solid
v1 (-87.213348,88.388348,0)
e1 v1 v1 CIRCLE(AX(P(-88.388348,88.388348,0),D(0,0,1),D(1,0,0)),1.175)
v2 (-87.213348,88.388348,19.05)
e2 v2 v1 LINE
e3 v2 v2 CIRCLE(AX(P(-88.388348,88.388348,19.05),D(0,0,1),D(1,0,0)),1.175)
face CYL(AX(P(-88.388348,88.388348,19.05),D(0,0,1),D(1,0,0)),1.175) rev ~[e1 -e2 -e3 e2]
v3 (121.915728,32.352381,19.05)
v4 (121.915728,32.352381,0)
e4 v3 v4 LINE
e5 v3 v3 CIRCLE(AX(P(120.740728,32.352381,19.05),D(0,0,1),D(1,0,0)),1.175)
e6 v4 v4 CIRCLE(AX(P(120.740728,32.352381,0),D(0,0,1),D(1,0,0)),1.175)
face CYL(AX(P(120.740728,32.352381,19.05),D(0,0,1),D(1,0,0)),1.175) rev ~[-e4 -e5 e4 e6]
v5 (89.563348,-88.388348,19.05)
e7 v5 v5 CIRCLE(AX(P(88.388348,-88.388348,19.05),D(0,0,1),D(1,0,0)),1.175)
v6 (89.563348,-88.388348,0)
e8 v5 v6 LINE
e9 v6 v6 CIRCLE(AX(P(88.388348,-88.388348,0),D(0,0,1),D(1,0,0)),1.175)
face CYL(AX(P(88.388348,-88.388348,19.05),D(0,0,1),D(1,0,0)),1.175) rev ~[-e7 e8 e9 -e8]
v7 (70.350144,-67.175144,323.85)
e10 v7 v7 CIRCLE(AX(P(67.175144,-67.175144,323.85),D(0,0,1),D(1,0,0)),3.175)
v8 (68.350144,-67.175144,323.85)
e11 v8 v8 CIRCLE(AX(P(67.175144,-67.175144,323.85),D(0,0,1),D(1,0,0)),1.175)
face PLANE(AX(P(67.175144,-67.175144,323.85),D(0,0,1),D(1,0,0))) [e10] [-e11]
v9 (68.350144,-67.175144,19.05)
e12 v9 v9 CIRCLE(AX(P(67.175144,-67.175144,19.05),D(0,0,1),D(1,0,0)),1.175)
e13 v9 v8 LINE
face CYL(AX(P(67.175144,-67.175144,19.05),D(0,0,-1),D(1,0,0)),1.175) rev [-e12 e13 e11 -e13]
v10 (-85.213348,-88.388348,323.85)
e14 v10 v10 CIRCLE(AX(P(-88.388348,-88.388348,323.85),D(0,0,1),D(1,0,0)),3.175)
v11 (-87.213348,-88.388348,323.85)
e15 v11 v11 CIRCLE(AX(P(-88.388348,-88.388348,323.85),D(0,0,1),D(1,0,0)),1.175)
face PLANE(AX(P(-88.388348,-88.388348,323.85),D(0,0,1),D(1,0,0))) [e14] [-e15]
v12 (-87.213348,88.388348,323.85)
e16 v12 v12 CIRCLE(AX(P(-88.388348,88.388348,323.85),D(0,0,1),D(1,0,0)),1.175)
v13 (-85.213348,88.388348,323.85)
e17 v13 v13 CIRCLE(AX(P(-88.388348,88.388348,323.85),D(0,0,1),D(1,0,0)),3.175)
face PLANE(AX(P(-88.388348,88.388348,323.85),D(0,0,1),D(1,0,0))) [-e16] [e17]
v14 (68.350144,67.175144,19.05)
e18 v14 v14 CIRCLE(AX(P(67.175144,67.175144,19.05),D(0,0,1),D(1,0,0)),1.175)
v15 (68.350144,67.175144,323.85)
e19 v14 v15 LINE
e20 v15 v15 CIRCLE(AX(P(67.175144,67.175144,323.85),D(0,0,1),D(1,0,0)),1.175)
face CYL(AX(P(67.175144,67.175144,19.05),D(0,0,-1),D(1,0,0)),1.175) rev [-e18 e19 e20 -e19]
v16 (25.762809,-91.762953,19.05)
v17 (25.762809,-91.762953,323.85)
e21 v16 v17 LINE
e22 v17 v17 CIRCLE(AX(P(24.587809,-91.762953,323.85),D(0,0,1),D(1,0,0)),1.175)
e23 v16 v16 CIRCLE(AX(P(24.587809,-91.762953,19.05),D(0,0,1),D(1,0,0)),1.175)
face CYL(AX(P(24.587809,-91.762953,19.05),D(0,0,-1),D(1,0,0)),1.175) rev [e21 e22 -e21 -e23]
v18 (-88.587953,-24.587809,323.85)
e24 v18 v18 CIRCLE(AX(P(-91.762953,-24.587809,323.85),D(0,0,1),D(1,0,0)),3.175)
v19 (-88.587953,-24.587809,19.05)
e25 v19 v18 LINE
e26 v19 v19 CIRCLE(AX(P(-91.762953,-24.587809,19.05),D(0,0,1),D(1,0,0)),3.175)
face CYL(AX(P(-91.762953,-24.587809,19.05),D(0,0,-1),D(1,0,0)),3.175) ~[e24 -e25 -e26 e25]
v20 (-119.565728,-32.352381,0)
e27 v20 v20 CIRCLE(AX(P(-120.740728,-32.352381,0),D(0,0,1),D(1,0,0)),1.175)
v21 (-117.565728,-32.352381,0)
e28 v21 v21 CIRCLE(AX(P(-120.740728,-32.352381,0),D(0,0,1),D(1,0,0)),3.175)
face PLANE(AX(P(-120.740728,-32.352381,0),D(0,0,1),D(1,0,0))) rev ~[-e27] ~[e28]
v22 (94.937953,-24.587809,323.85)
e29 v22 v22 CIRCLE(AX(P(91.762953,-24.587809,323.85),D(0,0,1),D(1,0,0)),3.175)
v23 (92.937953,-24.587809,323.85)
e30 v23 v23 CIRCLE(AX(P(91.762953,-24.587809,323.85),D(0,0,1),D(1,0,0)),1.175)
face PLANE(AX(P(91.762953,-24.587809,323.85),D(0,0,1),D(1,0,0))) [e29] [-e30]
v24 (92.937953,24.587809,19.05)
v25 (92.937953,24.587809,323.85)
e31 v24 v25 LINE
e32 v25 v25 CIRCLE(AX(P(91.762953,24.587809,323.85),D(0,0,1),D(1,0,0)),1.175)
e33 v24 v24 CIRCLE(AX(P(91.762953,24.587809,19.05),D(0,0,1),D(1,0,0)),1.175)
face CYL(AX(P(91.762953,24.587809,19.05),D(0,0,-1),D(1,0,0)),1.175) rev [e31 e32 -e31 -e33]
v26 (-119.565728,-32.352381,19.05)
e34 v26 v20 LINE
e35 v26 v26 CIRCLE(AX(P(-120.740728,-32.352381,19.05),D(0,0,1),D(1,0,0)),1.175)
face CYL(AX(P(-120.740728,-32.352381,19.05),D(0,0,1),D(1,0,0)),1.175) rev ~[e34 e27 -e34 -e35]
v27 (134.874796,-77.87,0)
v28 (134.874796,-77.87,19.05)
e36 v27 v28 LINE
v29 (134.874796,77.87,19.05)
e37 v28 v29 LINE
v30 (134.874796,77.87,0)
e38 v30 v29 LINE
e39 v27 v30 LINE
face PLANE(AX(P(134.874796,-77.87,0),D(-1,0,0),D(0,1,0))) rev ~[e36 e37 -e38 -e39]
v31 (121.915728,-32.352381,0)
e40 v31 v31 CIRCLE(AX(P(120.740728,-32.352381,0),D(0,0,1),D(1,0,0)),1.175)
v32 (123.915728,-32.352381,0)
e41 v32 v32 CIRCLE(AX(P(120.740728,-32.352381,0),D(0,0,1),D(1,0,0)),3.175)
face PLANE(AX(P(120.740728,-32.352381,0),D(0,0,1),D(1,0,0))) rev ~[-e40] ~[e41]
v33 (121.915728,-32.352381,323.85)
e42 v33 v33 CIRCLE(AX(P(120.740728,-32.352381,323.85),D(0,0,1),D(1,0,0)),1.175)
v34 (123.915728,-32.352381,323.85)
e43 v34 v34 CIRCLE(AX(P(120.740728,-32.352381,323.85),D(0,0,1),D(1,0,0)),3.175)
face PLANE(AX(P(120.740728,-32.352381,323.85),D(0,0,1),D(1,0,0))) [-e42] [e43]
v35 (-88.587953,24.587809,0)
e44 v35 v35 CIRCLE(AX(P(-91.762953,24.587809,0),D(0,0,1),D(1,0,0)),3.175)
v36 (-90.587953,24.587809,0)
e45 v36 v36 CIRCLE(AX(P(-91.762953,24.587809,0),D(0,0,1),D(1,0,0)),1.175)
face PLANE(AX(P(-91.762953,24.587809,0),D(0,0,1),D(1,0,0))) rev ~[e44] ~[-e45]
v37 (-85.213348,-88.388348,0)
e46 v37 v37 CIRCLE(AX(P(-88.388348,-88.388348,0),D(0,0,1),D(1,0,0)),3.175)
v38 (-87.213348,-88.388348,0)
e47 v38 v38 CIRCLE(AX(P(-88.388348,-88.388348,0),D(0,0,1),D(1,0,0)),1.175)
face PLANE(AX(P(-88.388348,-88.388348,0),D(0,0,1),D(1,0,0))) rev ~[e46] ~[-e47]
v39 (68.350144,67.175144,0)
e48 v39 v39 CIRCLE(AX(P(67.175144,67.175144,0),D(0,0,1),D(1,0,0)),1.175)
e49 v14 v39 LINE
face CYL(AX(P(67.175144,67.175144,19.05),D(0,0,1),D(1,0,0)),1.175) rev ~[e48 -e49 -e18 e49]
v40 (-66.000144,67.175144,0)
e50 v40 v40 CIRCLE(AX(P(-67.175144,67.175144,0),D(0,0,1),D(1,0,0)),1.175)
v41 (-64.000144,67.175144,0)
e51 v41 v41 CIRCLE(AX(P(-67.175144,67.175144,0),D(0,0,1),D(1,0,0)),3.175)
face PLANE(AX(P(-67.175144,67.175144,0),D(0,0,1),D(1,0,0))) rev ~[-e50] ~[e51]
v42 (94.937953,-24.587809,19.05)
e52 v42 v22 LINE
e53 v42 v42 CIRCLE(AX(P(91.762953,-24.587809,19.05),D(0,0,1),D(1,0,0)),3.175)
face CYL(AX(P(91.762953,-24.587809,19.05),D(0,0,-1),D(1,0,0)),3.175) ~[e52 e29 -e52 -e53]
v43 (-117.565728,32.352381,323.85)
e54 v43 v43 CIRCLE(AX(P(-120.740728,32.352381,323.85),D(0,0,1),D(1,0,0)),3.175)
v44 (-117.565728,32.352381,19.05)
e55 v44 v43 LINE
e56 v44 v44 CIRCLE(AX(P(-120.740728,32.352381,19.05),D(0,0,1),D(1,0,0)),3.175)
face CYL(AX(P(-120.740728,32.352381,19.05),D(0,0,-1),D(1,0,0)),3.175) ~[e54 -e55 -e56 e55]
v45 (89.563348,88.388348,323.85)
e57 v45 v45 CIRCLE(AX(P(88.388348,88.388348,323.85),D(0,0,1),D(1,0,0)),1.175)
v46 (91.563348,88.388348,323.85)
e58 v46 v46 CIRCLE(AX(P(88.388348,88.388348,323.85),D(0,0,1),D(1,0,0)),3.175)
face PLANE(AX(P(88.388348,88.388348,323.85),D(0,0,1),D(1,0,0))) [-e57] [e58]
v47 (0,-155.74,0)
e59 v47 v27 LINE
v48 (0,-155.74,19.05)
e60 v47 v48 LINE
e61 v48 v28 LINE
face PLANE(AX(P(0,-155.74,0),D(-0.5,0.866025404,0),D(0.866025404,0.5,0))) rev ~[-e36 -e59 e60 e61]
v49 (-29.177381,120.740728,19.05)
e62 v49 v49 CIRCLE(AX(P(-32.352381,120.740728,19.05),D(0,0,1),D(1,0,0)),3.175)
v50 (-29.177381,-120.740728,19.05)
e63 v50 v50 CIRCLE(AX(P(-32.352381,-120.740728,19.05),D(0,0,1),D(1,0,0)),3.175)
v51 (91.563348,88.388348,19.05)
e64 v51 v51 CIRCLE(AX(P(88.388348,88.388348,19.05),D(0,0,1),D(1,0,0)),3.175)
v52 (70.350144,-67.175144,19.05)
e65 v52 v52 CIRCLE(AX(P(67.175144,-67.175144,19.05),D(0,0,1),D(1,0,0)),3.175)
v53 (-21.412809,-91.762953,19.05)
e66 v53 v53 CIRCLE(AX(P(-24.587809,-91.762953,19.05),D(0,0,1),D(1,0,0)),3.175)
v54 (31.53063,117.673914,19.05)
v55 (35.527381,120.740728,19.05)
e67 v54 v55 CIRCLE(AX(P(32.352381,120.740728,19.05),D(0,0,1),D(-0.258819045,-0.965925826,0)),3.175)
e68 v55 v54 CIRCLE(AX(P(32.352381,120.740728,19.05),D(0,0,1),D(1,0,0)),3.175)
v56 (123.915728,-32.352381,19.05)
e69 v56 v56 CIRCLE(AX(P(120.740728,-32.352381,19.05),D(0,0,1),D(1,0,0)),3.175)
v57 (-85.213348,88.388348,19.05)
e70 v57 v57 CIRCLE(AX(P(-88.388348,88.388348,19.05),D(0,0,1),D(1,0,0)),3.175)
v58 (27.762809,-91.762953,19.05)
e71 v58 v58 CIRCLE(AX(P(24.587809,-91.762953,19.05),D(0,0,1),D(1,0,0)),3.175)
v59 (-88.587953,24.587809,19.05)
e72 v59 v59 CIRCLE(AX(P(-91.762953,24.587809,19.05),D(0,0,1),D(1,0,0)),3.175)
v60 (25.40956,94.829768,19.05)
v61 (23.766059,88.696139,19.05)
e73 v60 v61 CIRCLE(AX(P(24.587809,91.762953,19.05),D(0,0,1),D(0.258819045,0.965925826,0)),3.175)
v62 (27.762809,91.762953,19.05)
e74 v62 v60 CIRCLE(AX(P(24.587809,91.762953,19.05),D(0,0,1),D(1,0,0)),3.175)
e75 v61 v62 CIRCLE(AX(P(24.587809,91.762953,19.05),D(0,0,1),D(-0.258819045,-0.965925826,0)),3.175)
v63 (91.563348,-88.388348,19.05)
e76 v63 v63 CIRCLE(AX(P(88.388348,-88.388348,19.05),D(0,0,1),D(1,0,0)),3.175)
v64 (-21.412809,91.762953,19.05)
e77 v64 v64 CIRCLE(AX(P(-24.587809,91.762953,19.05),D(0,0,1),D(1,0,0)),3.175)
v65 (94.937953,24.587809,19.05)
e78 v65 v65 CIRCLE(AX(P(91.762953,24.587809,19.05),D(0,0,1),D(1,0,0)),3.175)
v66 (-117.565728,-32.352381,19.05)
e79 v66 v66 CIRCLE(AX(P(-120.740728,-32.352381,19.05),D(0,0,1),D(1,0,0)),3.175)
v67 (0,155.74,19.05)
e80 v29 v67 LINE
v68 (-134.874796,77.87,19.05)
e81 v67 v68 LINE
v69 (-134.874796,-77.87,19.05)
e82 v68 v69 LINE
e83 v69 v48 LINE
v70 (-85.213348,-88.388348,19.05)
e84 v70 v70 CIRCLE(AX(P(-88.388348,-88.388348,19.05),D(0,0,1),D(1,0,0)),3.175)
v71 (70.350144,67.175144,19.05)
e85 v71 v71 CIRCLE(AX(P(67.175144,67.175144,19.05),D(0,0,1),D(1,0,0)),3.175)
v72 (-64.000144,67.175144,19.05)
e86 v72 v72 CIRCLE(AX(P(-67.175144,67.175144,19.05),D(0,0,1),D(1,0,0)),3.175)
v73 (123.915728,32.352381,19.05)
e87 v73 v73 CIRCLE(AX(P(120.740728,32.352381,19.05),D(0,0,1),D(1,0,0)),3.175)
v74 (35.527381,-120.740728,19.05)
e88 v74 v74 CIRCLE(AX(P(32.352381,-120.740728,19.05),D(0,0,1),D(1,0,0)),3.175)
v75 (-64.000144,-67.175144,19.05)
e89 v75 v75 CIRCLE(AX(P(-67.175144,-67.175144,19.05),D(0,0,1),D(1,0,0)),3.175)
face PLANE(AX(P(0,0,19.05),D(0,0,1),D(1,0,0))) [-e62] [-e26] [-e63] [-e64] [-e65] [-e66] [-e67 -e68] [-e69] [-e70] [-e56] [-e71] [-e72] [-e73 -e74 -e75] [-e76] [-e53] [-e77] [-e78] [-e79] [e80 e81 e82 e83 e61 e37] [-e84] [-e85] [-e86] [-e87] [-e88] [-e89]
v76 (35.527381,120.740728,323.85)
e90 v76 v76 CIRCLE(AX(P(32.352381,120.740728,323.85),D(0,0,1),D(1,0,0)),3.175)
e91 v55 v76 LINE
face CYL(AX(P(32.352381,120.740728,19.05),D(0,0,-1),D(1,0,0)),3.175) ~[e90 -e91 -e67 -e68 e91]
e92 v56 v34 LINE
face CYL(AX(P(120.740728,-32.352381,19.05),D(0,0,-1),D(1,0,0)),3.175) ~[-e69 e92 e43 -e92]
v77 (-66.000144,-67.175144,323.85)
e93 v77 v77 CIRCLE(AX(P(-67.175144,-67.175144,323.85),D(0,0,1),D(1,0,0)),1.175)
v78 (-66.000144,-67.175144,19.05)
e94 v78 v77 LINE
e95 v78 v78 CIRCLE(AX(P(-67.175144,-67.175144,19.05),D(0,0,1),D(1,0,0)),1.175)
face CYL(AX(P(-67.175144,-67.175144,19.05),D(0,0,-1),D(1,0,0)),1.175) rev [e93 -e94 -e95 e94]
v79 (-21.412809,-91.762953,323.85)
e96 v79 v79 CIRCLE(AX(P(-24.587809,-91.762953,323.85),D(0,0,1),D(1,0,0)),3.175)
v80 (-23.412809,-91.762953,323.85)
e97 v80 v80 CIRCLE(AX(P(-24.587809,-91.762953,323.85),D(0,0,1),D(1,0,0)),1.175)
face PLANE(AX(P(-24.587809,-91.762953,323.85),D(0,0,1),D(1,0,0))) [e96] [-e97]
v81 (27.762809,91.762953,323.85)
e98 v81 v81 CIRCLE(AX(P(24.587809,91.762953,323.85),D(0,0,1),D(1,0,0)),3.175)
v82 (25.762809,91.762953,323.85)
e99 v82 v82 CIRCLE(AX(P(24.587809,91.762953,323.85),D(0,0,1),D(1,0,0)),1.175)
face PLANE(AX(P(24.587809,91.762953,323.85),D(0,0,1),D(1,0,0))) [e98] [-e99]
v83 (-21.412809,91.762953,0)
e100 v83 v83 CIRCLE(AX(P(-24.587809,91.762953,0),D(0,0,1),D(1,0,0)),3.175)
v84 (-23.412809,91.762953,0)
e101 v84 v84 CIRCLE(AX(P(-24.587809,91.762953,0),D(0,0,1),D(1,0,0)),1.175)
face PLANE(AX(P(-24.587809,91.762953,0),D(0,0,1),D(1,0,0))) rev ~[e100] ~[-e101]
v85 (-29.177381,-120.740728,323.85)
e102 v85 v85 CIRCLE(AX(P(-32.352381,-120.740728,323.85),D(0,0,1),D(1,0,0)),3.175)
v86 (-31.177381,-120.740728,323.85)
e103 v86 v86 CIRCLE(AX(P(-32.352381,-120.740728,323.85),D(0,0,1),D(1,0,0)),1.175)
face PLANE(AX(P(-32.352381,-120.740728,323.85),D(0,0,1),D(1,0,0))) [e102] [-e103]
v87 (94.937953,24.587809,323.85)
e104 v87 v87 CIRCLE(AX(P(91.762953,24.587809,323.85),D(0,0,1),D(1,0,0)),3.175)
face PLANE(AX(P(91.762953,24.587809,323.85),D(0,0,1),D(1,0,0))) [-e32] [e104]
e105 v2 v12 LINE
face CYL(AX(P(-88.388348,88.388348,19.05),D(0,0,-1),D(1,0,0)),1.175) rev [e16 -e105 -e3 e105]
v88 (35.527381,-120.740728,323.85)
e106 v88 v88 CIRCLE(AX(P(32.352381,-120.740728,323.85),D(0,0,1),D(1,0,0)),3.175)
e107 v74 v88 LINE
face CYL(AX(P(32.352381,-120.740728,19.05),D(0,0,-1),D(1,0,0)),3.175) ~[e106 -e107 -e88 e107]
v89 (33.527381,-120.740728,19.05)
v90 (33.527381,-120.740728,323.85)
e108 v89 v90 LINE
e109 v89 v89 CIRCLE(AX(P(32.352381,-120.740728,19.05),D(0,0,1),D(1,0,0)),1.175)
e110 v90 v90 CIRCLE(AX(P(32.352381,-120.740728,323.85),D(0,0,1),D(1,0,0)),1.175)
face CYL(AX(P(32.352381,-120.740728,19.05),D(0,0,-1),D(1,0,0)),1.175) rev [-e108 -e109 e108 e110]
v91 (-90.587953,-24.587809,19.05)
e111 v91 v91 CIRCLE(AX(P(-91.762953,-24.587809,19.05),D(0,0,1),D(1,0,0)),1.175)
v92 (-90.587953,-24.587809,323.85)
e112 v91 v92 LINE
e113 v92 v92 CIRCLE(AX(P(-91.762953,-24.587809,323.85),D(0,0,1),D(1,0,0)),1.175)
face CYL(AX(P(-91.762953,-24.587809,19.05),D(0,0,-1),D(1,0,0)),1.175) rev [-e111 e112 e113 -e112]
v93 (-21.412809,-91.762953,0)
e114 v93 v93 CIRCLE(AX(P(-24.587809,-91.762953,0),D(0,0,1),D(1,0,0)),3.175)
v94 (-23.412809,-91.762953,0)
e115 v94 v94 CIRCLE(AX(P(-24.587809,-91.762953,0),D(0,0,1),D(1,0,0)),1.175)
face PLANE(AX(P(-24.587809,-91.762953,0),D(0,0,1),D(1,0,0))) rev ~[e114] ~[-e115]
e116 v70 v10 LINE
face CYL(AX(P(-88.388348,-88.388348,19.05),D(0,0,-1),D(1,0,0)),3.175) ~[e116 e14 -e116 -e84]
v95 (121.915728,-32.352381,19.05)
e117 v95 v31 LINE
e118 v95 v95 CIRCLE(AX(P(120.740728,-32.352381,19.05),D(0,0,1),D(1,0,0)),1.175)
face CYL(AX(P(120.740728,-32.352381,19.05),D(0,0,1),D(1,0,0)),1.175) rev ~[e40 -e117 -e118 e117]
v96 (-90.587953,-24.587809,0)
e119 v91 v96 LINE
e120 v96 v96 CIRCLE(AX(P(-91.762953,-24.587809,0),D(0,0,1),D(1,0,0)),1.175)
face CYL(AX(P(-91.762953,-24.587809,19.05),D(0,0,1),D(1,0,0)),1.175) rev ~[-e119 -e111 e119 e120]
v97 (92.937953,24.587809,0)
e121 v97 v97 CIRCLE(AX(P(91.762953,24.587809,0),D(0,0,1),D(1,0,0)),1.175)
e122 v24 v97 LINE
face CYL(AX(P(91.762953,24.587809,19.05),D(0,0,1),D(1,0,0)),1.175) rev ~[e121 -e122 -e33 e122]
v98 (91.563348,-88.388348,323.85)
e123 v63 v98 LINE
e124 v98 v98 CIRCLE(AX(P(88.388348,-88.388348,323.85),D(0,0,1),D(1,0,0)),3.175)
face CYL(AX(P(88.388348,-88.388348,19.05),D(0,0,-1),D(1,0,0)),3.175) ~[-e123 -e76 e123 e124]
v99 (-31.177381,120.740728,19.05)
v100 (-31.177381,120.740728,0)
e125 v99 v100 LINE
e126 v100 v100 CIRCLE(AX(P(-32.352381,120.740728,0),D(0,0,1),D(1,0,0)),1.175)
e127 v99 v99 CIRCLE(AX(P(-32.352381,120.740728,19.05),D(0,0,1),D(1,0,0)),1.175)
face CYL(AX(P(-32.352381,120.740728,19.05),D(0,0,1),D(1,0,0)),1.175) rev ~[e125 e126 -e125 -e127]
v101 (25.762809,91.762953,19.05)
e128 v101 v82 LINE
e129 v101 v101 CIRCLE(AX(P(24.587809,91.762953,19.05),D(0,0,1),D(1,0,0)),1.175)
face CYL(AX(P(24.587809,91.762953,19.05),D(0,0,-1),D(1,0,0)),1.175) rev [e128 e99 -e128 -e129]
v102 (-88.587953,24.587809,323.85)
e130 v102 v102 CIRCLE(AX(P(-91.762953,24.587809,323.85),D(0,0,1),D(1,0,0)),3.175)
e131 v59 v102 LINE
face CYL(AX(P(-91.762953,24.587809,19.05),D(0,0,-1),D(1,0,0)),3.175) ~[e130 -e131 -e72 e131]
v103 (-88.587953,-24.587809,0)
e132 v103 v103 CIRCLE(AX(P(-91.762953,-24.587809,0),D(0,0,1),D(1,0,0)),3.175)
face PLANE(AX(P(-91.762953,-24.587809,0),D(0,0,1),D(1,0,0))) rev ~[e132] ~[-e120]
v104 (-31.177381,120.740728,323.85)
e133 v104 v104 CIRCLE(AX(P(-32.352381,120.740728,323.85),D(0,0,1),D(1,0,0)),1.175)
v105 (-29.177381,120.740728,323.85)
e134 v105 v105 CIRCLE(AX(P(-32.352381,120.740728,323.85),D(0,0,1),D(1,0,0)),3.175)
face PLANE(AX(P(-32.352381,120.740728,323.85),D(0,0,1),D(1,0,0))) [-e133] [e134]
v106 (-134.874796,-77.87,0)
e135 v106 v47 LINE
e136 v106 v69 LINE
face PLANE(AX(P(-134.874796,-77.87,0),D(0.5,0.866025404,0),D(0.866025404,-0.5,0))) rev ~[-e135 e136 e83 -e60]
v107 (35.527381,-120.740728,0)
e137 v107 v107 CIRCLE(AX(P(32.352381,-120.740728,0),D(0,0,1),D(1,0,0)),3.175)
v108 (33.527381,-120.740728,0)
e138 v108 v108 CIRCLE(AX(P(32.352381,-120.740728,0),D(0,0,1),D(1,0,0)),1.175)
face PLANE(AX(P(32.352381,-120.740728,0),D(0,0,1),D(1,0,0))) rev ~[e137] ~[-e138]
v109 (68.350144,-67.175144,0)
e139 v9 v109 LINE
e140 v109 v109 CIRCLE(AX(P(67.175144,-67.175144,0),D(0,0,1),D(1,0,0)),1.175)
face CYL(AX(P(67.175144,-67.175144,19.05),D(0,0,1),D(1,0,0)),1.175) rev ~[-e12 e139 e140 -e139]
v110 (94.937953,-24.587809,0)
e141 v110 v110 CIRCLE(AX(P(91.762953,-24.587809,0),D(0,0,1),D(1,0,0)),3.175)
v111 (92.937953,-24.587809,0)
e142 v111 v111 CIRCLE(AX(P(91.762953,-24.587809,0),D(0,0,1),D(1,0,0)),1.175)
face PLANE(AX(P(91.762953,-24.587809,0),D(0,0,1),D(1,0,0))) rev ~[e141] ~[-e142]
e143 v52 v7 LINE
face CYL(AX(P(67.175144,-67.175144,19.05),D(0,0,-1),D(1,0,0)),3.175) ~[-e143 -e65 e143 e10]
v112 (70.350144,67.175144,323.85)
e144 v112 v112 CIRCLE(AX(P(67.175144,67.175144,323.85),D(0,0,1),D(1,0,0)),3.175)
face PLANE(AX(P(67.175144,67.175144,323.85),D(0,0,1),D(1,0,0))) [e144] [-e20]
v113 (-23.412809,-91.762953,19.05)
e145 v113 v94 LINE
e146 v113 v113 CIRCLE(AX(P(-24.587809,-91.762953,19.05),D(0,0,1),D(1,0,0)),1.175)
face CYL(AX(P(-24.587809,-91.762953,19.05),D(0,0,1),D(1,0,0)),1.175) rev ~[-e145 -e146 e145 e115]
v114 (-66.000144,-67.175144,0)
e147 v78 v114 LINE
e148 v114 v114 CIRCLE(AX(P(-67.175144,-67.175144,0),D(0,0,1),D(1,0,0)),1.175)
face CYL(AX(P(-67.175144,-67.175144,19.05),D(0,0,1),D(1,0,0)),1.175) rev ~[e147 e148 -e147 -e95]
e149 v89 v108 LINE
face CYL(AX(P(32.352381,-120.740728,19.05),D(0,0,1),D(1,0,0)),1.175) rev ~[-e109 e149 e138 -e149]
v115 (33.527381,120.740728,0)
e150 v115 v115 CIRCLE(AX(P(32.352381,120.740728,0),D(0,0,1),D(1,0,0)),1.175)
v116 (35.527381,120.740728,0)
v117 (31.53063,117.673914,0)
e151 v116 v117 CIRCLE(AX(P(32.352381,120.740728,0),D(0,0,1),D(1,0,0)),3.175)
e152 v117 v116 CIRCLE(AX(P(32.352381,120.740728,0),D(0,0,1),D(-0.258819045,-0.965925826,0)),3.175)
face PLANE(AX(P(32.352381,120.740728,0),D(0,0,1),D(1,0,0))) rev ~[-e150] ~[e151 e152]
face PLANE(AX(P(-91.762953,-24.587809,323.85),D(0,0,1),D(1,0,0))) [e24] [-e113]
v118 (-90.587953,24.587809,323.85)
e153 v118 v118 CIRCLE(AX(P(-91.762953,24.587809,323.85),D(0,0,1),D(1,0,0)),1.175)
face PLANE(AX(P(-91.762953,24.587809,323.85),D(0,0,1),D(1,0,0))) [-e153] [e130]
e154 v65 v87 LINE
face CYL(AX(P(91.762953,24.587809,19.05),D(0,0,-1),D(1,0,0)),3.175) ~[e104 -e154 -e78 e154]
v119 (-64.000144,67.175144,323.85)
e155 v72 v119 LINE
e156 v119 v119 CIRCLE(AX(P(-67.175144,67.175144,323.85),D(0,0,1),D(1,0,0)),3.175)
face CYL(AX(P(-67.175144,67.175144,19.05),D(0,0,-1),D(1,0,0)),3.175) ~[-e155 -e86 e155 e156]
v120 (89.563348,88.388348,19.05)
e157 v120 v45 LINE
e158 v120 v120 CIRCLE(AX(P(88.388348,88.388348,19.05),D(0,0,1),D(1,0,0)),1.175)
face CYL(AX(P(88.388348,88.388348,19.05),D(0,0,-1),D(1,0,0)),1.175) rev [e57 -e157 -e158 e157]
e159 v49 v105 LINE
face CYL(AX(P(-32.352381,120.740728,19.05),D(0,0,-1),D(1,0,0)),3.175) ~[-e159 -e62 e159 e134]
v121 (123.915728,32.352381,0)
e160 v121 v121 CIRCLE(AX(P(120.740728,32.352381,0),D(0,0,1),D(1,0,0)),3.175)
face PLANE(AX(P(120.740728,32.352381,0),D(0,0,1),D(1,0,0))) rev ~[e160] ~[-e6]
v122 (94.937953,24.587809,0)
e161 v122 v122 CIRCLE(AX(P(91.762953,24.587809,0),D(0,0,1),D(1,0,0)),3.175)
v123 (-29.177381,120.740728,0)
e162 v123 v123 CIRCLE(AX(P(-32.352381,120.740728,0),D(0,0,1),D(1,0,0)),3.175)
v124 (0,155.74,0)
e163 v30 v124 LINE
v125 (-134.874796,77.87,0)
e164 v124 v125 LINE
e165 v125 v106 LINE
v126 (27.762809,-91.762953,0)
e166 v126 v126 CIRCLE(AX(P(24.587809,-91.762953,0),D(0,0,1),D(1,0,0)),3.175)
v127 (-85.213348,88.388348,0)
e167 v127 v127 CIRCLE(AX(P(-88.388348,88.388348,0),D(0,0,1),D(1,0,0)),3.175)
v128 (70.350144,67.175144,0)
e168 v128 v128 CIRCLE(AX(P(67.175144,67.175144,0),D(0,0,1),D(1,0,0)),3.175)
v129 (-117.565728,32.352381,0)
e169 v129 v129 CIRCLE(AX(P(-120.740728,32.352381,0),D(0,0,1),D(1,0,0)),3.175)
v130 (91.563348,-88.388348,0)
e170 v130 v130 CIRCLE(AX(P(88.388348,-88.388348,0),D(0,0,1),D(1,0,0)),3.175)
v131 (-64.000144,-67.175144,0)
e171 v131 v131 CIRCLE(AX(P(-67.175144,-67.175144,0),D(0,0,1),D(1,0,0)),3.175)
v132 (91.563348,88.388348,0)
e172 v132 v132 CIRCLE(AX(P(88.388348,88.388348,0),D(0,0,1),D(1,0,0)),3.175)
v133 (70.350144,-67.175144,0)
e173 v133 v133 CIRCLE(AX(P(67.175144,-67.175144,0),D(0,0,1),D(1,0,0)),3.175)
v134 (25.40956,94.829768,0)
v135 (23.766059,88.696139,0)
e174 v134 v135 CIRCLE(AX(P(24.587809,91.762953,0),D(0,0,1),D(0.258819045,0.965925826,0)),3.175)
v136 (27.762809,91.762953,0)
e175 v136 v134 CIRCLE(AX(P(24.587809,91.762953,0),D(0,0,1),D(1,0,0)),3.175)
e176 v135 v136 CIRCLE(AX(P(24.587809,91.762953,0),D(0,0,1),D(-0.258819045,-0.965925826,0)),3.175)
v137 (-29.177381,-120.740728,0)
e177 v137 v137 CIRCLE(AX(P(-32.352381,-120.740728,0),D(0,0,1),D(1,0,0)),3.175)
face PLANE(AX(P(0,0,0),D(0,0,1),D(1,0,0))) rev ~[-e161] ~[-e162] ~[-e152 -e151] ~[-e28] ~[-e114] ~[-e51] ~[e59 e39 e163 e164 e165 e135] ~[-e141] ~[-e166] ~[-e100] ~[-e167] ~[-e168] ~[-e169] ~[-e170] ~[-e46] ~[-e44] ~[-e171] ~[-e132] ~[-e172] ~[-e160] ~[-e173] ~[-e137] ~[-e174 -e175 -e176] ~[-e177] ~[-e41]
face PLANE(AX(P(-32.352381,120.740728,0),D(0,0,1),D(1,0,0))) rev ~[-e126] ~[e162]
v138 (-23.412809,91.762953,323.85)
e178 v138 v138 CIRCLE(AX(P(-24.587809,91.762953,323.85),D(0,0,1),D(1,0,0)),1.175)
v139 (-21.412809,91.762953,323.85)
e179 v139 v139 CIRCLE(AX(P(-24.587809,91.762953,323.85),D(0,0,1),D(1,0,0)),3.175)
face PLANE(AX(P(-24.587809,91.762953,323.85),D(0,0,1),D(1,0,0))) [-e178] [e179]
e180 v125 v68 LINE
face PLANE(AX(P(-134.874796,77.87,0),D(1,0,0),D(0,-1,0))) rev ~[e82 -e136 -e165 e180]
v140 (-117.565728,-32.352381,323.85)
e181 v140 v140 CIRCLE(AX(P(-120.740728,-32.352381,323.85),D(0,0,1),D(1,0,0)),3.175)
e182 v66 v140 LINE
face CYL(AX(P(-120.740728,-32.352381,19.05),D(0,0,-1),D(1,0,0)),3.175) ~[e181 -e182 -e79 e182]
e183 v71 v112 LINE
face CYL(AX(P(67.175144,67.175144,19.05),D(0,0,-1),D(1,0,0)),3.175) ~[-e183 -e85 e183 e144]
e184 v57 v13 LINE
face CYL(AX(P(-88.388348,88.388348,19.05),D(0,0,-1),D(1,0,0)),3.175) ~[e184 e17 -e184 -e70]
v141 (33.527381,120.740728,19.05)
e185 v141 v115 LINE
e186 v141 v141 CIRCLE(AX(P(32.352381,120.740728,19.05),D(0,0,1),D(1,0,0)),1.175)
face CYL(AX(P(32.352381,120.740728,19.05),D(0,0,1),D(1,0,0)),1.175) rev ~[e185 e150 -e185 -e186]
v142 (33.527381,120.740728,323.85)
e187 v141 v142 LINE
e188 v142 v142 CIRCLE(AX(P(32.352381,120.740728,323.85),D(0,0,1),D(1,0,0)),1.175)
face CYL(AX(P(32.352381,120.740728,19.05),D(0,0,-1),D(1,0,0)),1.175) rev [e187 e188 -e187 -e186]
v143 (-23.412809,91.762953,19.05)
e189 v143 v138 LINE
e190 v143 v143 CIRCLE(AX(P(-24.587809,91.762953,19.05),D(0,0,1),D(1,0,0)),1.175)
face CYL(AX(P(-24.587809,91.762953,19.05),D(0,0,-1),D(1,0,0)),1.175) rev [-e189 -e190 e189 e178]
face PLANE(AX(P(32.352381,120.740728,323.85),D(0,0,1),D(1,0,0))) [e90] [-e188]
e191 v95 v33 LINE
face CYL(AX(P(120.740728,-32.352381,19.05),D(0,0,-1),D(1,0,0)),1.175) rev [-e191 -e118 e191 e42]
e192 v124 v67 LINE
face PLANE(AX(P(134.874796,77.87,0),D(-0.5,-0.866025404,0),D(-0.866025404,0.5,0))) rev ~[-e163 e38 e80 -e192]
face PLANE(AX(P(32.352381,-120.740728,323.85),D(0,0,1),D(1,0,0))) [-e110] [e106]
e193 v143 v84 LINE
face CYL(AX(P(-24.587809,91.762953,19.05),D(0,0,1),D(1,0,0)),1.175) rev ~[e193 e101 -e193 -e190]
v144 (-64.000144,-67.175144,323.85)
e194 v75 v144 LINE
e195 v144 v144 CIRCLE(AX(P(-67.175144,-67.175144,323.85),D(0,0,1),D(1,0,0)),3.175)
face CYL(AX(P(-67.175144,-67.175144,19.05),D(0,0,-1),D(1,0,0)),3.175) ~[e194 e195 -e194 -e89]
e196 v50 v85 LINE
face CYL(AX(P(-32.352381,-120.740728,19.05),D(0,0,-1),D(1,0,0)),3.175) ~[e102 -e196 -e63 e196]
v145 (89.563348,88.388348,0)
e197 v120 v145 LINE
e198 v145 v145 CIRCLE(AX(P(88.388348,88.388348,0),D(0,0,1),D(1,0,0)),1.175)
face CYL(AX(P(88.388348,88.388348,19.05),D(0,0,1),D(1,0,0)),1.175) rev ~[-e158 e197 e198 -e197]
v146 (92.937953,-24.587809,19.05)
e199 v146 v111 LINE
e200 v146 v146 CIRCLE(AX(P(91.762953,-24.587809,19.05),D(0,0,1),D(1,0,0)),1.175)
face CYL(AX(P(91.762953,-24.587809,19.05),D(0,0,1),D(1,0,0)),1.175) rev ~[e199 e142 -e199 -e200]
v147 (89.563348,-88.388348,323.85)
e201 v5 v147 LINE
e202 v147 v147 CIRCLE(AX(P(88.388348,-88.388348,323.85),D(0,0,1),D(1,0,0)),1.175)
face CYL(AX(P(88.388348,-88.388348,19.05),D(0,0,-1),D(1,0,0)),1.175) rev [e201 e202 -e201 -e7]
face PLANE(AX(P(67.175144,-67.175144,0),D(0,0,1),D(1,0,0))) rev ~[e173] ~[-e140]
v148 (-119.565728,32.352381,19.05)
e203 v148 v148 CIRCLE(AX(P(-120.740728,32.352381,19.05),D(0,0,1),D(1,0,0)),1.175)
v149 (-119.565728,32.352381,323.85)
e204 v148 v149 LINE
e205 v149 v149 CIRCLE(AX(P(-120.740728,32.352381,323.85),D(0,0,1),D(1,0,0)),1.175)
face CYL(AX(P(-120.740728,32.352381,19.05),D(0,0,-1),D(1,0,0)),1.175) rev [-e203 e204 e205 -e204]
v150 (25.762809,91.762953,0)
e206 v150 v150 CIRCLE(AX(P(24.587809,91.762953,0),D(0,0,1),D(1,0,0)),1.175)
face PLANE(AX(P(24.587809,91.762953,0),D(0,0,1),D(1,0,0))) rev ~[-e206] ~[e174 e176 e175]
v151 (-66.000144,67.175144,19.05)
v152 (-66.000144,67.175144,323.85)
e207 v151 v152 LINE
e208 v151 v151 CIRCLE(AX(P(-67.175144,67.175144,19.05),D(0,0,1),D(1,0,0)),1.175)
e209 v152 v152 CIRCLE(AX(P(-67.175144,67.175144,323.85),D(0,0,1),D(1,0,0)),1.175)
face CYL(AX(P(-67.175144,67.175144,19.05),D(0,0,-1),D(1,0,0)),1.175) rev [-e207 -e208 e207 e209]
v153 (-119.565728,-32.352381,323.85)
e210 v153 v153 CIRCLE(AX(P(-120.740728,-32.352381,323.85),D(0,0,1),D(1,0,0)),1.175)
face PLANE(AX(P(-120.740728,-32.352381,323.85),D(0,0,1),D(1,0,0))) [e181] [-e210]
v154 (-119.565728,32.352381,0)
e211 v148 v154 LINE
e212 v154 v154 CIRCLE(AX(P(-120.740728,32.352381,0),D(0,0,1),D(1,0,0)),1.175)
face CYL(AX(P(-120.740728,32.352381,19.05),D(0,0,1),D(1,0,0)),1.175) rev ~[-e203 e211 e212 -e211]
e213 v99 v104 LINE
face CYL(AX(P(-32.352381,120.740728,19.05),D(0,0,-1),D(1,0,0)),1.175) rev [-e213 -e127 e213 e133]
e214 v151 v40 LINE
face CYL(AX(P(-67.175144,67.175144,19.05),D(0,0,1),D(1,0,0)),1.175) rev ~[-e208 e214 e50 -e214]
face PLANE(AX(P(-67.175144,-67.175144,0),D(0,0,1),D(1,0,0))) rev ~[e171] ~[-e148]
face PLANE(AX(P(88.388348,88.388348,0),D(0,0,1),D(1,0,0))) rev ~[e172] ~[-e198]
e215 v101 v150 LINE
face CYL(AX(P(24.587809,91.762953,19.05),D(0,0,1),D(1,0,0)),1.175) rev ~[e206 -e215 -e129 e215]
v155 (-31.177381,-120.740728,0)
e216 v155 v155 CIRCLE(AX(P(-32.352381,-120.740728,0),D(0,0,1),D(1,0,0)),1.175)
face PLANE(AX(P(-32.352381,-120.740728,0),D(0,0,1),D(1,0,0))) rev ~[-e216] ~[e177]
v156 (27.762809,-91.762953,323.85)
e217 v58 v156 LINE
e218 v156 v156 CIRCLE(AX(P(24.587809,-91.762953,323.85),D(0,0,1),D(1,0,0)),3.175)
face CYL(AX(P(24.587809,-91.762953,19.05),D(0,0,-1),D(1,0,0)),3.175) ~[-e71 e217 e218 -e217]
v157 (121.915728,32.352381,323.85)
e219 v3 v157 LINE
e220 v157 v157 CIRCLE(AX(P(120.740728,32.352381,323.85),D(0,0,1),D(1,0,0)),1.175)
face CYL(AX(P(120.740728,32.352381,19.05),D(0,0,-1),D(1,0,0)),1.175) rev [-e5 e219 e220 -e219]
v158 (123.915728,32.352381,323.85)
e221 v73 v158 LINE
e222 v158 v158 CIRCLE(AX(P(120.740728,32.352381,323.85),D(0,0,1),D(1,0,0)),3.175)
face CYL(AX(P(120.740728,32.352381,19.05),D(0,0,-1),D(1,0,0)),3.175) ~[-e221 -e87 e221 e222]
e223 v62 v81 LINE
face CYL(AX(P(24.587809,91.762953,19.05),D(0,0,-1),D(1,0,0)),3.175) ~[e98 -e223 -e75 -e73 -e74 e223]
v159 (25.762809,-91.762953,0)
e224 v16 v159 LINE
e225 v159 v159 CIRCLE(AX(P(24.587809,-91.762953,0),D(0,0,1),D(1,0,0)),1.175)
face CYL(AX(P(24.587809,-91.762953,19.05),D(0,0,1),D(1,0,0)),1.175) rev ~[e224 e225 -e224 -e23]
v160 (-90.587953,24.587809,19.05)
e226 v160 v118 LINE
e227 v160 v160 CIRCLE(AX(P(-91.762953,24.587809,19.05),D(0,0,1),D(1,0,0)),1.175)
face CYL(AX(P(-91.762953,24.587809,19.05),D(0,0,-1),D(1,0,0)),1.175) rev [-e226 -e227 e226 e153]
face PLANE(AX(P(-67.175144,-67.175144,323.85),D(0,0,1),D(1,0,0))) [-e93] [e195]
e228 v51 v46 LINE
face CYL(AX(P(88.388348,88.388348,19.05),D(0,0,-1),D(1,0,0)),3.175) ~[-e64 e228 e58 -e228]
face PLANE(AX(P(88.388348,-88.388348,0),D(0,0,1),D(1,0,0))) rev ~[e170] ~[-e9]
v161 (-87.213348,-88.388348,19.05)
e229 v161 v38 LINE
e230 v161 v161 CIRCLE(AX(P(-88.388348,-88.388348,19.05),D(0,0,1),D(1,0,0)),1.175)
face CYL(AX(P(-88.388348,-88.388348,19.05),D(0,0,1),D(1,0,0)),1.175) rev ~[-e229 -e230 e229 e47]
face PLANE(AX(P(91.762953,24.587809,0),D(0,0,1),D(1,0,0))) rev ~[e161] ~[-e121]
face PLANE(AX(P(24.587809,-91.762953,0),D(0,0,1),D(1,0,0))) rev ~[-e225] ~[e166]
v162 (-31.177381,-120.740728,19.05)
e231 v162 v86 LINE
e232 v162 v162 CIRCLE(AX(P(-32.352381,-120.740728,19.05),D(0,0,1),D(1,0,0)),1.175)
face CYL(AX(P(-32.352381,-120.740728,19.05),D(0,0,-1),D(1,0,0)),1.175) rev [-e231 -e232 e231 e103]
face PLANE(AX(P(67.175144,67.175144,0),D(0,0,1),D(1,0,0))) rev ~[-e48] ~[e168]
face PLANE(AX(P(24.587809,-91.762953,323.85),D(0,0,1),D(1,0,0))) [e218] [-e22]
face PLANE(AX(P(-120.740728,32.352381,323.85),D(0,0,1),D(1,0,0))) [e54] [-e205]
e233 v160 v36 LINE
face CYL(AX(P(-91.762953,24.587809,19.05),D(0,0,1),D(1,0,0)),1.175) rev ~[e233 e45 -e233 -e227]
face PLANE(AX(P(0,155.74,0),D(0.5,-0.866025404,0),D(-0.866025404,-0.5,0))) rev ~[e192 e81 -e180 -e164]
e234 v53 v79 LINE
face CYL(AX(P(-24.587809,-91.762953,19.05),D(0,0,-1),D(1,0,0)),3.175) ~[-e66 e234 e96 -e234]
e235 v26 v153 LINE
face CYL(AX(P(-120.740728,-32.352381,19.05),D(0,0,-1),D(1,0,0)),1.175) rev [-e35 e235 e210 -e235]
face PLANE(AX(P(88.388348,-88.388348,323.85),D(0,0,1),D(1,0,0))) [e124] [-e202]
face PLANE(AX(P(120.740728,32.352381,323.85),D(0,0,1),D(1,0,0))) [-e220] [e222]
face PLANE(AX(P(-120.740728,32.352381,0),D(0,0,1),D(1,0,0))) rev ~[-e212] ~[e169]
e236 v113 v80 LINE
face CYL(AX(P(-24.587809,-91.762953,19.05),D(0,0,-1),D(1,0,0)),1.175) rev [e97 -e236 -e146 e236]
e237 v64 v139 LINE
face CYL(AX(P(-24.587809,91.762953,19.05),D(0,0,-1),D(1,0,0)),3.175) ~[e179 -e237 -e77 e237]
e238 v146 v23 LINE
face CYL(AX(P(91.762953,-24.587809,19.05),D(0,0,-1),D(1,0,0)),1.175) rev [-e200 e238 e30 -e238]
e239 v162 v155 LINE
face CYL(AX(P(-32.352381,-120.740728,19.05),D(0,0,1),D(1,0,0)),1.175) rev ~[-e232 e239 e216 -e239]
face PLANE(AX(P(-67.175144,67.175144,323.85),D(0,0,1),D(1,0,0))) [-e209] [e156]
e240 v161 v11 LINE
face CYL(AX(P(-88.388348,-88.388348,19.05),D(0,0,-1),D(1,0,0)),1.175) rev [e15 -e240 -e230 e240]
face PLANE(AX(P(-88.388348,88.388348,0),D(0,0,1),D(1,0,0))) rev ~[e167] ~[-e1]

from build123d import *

# Parameters (mm, degrees)
F1_DEPTH      = 19.05
F2_R          = 3.175
F3_DEPTH      = 19.05
F4_R          = 3.175
F4_R_2        = 1.175
F5_DEPTH      = 304.8
F5_DEPTH_BACK = 19.05


with BuildPart() as f1:
    # F0 (on Top) → F1 (new body)
    with BuildSketch(Plane.XY):
        Polygon((134.8747963854, 77.87), (0, 155.74), (-134.8747963854, 77.87), (-134.8747963854, -77.87), (0, -155.74), (134.8747963854, -77.87), align=None)
    extrude(amount=F1_DEPTH)

    # F2 (on face) → F3 (cut)
    with BuildSketch(Plane.XY.offset(19.05)):
        with BuildLine():
            ThreePointArc((25.4095597529, 94.8297679959), (21.5209947863, 92.5847039657), (23.7660588165, 88.696138999))
            Line((23.7660588165, 88.696138999), (24.5878092847, 91.7629534975))
            Line((24.5878092847, 91.7629534975), (25.4095597529, 94.8297679959))
        make_face()
        with BuildLine():
            ThreePointArc((35.5273806378, 120.7407282861), (30.4195631007, 123.2596251416), (31.5306301696, 117.6739137877))
            ThreePointArc((31.5306301696, 117.6739137877), (34.2851981749, 118.2218314307), (35.5273806378, 120.7407282861))
        make_face()
        with BuildLine():
            Line((24.5878092847, 91.7629534975), (23.7660588165, 88.696138999))
            ThreePointArc((23.7660588165, 88.696138999), (26.5206268218, 89.244056642), (27.7628092847, 91.7629534975))
            ThreePointArc((27.7628092847, 91.7629534975), (27.1067061402, 93.6957710346), (25.4095597529, 94.8297679959))
            Line((25.4095597529, 94.8297679959), (24.5878092847, 91.7629534975))
        make_face()
        with Locations((-24.5878092847, 91.7629534975)):
            Circle(F2_R)
        with Locations((-32.3523806378, 120.7407282861)):
            Circle(F2_R)
        with Locations((-67.1751442127, 67.1751442127)):
            Circle(F2_R)
        with Locations((-88.3883476483, 88.3883476483)):
            Circle(F2_R)
        with Locations((-91.7629534975, 24.5878092847)):
            Circle(F2_R)
        with Locations((-120.7407282861, 32.3523806378)):
            Circle(F2_R)
        with Locations((-91.7629534975, -24.5878092847)):
            Circle(F2_R)
        with Locations((-120.7407282861, -32.3523806378)):
            Circle(F2_R)
        with Locations((-67.1751442127, -67.1751442127)):
            Circle(F2_R)
        with Locations((-88.3883476483, -88.3883476483)):
            Circle(F2_R)
        with Locations((-24.5878092847, -91.7629534975)):
            Circle(F2_R)
        with Locations((-32.3523806378, -120.7407282861)):
            Circle(F2_R)
        with Locations((24.5878092847, -91.7629534975)):
            Circle(F2_R)
        with Locations((32.3523806378, -120.7407282861)):
            Circle(F2_R)
        with Locations((67.1751442127, -67.1751442127)):
            Circle(F2_R)
        with Locations((88.3883476483, -88.3883476483)):
            Circle(F2_R)
        with Locations((91.7629534975, -24.5878092847)):
            Circle(F2_R)
        with Locations((120.7407282861, -32.3523806378)):
            Circle(F2_R)
        with Locations((91.7629534975, 24.5878092847)):
            Circle(F2_R)
        with Locations((120.7407282861, 32.3523806378)):
            Circle(F2_R)
        with Locations((67.1751442127, 67.1751442127)):
            Circle(F2_R)
        with Locations((88.3883476483, 88.3883476483)):
            Circle(F2_R)
    extrude(amount=-F3_DEPTH, mode=Mode.SUBTRACT)

    # F4 (on face) → F5 (join, two sides)
    with BuildSketch(Plane.XY.offset(19.05)) as f5_sk:
        with Locations((-88.3883476483, 88.3883476483)):
            Circle(F4_R)
        with Locations((-88.3883476483, 88.3883476483)):
            Circle(F4_R_2, mode=Mode.SUBTRACT)
        with Locations((-67.1751442127, 67.1751442127)):
            Circle(F4_R)
        with Locations((-67.1751442127, 67.1751442127)):
            Circle(F4_R_2, mode=Mode.SUBTRACT)
        with Locations((-120.7407282861, 32.3523806378)):
            Circle(F4_R)
        with Locations((-120.7407282861, 32.3523806378)):
            Circle(F4_R_2, mode=Mode.SUBTRACT)
        with Locations((-91.7629534975, 24.5878092847)):
            Circle(F4_R)
        with Locations((-91.7629534975, 24.5878092847)):
            Circle(F4_R_2, mode=Mode.SUBTRACT)
        with Locations((-120.7407282861, -32.3523806378)):
            Circle(F4_R)
        with Locations((-120.7407282861, -32.3523806378)):
            Circle(F4_R_2, mode=Mode.SUBTRACT)
        with Locations((-91.7629534975, -24.5878092847)):
            Circle(F4_R)
        with Locations((-91.7629534975, -24.5878092847)):
            Circle(F4_R_2, mode=Mode.SUBTRACT)
        with Locations((-88.3883476483, -88.3883476483)):
            Circle(F4_R)
        with Locations((-88.3883476483, -88.3883476483)):
            Circle(F4_R_2, mode=Mode.SUBTRACT)
        with Locations((-67.1751442127, -67.1751442127)):
            Circle(F4_R)
        with Locations((-67.1751442127, -67.1751442127)):
            Circle(F4_R_2, mode=Mode.SUBTRACT)
        with Locations((-32.3523806378, -120.7407282861)):
            Circle(F4_R)
        with Locations((-32.3523806378, -120.7407282861)):
            Circle(F4_R_2, mode=Mode.SUBTRACT)
        with Locations((-24.5878092847, -91.7629534975)):
            Circle(F4_R)
        with Locations((-24.5878092847, -91.7629534975)):
            Circle(F4_R_2, mode=Mode.SUBTRACT)
        with Locations((32.3523806378, -120.7407282861)):
            Circle(F4_R)
        with Locations((32.3523806378, -120.7407282861)):
            Circle(F4_R_2, mode=Mode.SUBTRACT)
        with Locations((24.5878092847, -91.7629534975)):
            Circle(F4_R)
        with Locations((24.5878092847, -91.7629534975)):
            Circle(F4_R_2, mode=Mode.SUBTRACT)
        with Locations((88.3883476483, -88.3883476483)):
            Circle(F4_R)
        with Locations((88.3883476483, -88.3883476483)):
            Circle(F4_R_2, mode=Mode.SUBTRACT)
        with Locations((67.1751442127, -67.1751442127)):
            Circle(F4_R)
        with Locations((67.1751442127, -67.1751442127)):
            Circle(F4_R_2, mode=Mode.SUBTRACT)
        with Locations((120.7407282861, -32.3523806378)):
            Circle(F4_R)
        with Locations((120.7407282861, -32.3523806378)):
            Circle(F4_R_2, mode=Mode.SUBTRACT)
        with Locations((91.7629534975, -24.5878092847)):
            Circle(F4_R)
        with Locations((91.7629534975, -24.5878092847)):
            Circle(F4_R_2, mode=Mode.SUBTRACT)
        with Locations((120.7407282861, 32.3523806378)):
            Circle(F4_R)
        with Locations((120.7407282861, 32.3523806378)):
            Circle(F4_R_2, mode=Mode.SUBTRACT)
        with Locations((91.7629534975, 24.5878092847)):
            Circle(F4_R)
        with Locations((91.7629534975, 24.5878092847)):
            Circle(F4_R_2, mode=Mode.SUBTRACT)
        with Locations((88.3883476483, 88.3883476483)):
            Circle(F4_R)
        with Locations((88.3883476483, 88.3883476483)):
            Circle(F4_R_2, mode=Mode.SUBTRACT)
        with Locations((67.1751442127, 67.1751442127)):
            Circle(F4_R)
        with Locations((67.1751442127, 67.1751442127)):
            Circle(F4_R_2, mode=Mode.SUBTRACT)
        with Locations((32.3523806378, 120.7407282861)):
            Circle(F4_R)
        with Locations((32.3523806378, 120.7407282861)):
            Circle(F4_R_2, mode=Mode.SUBTRACT)
        with Locations((24.5878092847, 91.7629534975)):
            Circle(F4_R)
        with Locations((24.5878092847, 91.7629534975)):
            Circle(F4_R_2, mode=Mode.SUBTRACT)
        with Locations((-32.3523806378, 120.7407282861)):
            Circle(F4_R)
        with Locations((-32.3523806378, 120.7407282861)):
            Circle(F4_R_2, mode=Mode.SUBTRACT)
        with Locations((-24.5878092847, 91.7629534975)):
            Circle(F4_R)
        with Locations((-24.5878092847, 91.7629534975)):
            Circle(F4_R_2, mode=Mode.SUBTRACT)
    extrude(amount=F5_DEPTH)
    extrude(f5_sk.sketch, amount=-F5_DEPTH_BACK)


solid = f1.part
